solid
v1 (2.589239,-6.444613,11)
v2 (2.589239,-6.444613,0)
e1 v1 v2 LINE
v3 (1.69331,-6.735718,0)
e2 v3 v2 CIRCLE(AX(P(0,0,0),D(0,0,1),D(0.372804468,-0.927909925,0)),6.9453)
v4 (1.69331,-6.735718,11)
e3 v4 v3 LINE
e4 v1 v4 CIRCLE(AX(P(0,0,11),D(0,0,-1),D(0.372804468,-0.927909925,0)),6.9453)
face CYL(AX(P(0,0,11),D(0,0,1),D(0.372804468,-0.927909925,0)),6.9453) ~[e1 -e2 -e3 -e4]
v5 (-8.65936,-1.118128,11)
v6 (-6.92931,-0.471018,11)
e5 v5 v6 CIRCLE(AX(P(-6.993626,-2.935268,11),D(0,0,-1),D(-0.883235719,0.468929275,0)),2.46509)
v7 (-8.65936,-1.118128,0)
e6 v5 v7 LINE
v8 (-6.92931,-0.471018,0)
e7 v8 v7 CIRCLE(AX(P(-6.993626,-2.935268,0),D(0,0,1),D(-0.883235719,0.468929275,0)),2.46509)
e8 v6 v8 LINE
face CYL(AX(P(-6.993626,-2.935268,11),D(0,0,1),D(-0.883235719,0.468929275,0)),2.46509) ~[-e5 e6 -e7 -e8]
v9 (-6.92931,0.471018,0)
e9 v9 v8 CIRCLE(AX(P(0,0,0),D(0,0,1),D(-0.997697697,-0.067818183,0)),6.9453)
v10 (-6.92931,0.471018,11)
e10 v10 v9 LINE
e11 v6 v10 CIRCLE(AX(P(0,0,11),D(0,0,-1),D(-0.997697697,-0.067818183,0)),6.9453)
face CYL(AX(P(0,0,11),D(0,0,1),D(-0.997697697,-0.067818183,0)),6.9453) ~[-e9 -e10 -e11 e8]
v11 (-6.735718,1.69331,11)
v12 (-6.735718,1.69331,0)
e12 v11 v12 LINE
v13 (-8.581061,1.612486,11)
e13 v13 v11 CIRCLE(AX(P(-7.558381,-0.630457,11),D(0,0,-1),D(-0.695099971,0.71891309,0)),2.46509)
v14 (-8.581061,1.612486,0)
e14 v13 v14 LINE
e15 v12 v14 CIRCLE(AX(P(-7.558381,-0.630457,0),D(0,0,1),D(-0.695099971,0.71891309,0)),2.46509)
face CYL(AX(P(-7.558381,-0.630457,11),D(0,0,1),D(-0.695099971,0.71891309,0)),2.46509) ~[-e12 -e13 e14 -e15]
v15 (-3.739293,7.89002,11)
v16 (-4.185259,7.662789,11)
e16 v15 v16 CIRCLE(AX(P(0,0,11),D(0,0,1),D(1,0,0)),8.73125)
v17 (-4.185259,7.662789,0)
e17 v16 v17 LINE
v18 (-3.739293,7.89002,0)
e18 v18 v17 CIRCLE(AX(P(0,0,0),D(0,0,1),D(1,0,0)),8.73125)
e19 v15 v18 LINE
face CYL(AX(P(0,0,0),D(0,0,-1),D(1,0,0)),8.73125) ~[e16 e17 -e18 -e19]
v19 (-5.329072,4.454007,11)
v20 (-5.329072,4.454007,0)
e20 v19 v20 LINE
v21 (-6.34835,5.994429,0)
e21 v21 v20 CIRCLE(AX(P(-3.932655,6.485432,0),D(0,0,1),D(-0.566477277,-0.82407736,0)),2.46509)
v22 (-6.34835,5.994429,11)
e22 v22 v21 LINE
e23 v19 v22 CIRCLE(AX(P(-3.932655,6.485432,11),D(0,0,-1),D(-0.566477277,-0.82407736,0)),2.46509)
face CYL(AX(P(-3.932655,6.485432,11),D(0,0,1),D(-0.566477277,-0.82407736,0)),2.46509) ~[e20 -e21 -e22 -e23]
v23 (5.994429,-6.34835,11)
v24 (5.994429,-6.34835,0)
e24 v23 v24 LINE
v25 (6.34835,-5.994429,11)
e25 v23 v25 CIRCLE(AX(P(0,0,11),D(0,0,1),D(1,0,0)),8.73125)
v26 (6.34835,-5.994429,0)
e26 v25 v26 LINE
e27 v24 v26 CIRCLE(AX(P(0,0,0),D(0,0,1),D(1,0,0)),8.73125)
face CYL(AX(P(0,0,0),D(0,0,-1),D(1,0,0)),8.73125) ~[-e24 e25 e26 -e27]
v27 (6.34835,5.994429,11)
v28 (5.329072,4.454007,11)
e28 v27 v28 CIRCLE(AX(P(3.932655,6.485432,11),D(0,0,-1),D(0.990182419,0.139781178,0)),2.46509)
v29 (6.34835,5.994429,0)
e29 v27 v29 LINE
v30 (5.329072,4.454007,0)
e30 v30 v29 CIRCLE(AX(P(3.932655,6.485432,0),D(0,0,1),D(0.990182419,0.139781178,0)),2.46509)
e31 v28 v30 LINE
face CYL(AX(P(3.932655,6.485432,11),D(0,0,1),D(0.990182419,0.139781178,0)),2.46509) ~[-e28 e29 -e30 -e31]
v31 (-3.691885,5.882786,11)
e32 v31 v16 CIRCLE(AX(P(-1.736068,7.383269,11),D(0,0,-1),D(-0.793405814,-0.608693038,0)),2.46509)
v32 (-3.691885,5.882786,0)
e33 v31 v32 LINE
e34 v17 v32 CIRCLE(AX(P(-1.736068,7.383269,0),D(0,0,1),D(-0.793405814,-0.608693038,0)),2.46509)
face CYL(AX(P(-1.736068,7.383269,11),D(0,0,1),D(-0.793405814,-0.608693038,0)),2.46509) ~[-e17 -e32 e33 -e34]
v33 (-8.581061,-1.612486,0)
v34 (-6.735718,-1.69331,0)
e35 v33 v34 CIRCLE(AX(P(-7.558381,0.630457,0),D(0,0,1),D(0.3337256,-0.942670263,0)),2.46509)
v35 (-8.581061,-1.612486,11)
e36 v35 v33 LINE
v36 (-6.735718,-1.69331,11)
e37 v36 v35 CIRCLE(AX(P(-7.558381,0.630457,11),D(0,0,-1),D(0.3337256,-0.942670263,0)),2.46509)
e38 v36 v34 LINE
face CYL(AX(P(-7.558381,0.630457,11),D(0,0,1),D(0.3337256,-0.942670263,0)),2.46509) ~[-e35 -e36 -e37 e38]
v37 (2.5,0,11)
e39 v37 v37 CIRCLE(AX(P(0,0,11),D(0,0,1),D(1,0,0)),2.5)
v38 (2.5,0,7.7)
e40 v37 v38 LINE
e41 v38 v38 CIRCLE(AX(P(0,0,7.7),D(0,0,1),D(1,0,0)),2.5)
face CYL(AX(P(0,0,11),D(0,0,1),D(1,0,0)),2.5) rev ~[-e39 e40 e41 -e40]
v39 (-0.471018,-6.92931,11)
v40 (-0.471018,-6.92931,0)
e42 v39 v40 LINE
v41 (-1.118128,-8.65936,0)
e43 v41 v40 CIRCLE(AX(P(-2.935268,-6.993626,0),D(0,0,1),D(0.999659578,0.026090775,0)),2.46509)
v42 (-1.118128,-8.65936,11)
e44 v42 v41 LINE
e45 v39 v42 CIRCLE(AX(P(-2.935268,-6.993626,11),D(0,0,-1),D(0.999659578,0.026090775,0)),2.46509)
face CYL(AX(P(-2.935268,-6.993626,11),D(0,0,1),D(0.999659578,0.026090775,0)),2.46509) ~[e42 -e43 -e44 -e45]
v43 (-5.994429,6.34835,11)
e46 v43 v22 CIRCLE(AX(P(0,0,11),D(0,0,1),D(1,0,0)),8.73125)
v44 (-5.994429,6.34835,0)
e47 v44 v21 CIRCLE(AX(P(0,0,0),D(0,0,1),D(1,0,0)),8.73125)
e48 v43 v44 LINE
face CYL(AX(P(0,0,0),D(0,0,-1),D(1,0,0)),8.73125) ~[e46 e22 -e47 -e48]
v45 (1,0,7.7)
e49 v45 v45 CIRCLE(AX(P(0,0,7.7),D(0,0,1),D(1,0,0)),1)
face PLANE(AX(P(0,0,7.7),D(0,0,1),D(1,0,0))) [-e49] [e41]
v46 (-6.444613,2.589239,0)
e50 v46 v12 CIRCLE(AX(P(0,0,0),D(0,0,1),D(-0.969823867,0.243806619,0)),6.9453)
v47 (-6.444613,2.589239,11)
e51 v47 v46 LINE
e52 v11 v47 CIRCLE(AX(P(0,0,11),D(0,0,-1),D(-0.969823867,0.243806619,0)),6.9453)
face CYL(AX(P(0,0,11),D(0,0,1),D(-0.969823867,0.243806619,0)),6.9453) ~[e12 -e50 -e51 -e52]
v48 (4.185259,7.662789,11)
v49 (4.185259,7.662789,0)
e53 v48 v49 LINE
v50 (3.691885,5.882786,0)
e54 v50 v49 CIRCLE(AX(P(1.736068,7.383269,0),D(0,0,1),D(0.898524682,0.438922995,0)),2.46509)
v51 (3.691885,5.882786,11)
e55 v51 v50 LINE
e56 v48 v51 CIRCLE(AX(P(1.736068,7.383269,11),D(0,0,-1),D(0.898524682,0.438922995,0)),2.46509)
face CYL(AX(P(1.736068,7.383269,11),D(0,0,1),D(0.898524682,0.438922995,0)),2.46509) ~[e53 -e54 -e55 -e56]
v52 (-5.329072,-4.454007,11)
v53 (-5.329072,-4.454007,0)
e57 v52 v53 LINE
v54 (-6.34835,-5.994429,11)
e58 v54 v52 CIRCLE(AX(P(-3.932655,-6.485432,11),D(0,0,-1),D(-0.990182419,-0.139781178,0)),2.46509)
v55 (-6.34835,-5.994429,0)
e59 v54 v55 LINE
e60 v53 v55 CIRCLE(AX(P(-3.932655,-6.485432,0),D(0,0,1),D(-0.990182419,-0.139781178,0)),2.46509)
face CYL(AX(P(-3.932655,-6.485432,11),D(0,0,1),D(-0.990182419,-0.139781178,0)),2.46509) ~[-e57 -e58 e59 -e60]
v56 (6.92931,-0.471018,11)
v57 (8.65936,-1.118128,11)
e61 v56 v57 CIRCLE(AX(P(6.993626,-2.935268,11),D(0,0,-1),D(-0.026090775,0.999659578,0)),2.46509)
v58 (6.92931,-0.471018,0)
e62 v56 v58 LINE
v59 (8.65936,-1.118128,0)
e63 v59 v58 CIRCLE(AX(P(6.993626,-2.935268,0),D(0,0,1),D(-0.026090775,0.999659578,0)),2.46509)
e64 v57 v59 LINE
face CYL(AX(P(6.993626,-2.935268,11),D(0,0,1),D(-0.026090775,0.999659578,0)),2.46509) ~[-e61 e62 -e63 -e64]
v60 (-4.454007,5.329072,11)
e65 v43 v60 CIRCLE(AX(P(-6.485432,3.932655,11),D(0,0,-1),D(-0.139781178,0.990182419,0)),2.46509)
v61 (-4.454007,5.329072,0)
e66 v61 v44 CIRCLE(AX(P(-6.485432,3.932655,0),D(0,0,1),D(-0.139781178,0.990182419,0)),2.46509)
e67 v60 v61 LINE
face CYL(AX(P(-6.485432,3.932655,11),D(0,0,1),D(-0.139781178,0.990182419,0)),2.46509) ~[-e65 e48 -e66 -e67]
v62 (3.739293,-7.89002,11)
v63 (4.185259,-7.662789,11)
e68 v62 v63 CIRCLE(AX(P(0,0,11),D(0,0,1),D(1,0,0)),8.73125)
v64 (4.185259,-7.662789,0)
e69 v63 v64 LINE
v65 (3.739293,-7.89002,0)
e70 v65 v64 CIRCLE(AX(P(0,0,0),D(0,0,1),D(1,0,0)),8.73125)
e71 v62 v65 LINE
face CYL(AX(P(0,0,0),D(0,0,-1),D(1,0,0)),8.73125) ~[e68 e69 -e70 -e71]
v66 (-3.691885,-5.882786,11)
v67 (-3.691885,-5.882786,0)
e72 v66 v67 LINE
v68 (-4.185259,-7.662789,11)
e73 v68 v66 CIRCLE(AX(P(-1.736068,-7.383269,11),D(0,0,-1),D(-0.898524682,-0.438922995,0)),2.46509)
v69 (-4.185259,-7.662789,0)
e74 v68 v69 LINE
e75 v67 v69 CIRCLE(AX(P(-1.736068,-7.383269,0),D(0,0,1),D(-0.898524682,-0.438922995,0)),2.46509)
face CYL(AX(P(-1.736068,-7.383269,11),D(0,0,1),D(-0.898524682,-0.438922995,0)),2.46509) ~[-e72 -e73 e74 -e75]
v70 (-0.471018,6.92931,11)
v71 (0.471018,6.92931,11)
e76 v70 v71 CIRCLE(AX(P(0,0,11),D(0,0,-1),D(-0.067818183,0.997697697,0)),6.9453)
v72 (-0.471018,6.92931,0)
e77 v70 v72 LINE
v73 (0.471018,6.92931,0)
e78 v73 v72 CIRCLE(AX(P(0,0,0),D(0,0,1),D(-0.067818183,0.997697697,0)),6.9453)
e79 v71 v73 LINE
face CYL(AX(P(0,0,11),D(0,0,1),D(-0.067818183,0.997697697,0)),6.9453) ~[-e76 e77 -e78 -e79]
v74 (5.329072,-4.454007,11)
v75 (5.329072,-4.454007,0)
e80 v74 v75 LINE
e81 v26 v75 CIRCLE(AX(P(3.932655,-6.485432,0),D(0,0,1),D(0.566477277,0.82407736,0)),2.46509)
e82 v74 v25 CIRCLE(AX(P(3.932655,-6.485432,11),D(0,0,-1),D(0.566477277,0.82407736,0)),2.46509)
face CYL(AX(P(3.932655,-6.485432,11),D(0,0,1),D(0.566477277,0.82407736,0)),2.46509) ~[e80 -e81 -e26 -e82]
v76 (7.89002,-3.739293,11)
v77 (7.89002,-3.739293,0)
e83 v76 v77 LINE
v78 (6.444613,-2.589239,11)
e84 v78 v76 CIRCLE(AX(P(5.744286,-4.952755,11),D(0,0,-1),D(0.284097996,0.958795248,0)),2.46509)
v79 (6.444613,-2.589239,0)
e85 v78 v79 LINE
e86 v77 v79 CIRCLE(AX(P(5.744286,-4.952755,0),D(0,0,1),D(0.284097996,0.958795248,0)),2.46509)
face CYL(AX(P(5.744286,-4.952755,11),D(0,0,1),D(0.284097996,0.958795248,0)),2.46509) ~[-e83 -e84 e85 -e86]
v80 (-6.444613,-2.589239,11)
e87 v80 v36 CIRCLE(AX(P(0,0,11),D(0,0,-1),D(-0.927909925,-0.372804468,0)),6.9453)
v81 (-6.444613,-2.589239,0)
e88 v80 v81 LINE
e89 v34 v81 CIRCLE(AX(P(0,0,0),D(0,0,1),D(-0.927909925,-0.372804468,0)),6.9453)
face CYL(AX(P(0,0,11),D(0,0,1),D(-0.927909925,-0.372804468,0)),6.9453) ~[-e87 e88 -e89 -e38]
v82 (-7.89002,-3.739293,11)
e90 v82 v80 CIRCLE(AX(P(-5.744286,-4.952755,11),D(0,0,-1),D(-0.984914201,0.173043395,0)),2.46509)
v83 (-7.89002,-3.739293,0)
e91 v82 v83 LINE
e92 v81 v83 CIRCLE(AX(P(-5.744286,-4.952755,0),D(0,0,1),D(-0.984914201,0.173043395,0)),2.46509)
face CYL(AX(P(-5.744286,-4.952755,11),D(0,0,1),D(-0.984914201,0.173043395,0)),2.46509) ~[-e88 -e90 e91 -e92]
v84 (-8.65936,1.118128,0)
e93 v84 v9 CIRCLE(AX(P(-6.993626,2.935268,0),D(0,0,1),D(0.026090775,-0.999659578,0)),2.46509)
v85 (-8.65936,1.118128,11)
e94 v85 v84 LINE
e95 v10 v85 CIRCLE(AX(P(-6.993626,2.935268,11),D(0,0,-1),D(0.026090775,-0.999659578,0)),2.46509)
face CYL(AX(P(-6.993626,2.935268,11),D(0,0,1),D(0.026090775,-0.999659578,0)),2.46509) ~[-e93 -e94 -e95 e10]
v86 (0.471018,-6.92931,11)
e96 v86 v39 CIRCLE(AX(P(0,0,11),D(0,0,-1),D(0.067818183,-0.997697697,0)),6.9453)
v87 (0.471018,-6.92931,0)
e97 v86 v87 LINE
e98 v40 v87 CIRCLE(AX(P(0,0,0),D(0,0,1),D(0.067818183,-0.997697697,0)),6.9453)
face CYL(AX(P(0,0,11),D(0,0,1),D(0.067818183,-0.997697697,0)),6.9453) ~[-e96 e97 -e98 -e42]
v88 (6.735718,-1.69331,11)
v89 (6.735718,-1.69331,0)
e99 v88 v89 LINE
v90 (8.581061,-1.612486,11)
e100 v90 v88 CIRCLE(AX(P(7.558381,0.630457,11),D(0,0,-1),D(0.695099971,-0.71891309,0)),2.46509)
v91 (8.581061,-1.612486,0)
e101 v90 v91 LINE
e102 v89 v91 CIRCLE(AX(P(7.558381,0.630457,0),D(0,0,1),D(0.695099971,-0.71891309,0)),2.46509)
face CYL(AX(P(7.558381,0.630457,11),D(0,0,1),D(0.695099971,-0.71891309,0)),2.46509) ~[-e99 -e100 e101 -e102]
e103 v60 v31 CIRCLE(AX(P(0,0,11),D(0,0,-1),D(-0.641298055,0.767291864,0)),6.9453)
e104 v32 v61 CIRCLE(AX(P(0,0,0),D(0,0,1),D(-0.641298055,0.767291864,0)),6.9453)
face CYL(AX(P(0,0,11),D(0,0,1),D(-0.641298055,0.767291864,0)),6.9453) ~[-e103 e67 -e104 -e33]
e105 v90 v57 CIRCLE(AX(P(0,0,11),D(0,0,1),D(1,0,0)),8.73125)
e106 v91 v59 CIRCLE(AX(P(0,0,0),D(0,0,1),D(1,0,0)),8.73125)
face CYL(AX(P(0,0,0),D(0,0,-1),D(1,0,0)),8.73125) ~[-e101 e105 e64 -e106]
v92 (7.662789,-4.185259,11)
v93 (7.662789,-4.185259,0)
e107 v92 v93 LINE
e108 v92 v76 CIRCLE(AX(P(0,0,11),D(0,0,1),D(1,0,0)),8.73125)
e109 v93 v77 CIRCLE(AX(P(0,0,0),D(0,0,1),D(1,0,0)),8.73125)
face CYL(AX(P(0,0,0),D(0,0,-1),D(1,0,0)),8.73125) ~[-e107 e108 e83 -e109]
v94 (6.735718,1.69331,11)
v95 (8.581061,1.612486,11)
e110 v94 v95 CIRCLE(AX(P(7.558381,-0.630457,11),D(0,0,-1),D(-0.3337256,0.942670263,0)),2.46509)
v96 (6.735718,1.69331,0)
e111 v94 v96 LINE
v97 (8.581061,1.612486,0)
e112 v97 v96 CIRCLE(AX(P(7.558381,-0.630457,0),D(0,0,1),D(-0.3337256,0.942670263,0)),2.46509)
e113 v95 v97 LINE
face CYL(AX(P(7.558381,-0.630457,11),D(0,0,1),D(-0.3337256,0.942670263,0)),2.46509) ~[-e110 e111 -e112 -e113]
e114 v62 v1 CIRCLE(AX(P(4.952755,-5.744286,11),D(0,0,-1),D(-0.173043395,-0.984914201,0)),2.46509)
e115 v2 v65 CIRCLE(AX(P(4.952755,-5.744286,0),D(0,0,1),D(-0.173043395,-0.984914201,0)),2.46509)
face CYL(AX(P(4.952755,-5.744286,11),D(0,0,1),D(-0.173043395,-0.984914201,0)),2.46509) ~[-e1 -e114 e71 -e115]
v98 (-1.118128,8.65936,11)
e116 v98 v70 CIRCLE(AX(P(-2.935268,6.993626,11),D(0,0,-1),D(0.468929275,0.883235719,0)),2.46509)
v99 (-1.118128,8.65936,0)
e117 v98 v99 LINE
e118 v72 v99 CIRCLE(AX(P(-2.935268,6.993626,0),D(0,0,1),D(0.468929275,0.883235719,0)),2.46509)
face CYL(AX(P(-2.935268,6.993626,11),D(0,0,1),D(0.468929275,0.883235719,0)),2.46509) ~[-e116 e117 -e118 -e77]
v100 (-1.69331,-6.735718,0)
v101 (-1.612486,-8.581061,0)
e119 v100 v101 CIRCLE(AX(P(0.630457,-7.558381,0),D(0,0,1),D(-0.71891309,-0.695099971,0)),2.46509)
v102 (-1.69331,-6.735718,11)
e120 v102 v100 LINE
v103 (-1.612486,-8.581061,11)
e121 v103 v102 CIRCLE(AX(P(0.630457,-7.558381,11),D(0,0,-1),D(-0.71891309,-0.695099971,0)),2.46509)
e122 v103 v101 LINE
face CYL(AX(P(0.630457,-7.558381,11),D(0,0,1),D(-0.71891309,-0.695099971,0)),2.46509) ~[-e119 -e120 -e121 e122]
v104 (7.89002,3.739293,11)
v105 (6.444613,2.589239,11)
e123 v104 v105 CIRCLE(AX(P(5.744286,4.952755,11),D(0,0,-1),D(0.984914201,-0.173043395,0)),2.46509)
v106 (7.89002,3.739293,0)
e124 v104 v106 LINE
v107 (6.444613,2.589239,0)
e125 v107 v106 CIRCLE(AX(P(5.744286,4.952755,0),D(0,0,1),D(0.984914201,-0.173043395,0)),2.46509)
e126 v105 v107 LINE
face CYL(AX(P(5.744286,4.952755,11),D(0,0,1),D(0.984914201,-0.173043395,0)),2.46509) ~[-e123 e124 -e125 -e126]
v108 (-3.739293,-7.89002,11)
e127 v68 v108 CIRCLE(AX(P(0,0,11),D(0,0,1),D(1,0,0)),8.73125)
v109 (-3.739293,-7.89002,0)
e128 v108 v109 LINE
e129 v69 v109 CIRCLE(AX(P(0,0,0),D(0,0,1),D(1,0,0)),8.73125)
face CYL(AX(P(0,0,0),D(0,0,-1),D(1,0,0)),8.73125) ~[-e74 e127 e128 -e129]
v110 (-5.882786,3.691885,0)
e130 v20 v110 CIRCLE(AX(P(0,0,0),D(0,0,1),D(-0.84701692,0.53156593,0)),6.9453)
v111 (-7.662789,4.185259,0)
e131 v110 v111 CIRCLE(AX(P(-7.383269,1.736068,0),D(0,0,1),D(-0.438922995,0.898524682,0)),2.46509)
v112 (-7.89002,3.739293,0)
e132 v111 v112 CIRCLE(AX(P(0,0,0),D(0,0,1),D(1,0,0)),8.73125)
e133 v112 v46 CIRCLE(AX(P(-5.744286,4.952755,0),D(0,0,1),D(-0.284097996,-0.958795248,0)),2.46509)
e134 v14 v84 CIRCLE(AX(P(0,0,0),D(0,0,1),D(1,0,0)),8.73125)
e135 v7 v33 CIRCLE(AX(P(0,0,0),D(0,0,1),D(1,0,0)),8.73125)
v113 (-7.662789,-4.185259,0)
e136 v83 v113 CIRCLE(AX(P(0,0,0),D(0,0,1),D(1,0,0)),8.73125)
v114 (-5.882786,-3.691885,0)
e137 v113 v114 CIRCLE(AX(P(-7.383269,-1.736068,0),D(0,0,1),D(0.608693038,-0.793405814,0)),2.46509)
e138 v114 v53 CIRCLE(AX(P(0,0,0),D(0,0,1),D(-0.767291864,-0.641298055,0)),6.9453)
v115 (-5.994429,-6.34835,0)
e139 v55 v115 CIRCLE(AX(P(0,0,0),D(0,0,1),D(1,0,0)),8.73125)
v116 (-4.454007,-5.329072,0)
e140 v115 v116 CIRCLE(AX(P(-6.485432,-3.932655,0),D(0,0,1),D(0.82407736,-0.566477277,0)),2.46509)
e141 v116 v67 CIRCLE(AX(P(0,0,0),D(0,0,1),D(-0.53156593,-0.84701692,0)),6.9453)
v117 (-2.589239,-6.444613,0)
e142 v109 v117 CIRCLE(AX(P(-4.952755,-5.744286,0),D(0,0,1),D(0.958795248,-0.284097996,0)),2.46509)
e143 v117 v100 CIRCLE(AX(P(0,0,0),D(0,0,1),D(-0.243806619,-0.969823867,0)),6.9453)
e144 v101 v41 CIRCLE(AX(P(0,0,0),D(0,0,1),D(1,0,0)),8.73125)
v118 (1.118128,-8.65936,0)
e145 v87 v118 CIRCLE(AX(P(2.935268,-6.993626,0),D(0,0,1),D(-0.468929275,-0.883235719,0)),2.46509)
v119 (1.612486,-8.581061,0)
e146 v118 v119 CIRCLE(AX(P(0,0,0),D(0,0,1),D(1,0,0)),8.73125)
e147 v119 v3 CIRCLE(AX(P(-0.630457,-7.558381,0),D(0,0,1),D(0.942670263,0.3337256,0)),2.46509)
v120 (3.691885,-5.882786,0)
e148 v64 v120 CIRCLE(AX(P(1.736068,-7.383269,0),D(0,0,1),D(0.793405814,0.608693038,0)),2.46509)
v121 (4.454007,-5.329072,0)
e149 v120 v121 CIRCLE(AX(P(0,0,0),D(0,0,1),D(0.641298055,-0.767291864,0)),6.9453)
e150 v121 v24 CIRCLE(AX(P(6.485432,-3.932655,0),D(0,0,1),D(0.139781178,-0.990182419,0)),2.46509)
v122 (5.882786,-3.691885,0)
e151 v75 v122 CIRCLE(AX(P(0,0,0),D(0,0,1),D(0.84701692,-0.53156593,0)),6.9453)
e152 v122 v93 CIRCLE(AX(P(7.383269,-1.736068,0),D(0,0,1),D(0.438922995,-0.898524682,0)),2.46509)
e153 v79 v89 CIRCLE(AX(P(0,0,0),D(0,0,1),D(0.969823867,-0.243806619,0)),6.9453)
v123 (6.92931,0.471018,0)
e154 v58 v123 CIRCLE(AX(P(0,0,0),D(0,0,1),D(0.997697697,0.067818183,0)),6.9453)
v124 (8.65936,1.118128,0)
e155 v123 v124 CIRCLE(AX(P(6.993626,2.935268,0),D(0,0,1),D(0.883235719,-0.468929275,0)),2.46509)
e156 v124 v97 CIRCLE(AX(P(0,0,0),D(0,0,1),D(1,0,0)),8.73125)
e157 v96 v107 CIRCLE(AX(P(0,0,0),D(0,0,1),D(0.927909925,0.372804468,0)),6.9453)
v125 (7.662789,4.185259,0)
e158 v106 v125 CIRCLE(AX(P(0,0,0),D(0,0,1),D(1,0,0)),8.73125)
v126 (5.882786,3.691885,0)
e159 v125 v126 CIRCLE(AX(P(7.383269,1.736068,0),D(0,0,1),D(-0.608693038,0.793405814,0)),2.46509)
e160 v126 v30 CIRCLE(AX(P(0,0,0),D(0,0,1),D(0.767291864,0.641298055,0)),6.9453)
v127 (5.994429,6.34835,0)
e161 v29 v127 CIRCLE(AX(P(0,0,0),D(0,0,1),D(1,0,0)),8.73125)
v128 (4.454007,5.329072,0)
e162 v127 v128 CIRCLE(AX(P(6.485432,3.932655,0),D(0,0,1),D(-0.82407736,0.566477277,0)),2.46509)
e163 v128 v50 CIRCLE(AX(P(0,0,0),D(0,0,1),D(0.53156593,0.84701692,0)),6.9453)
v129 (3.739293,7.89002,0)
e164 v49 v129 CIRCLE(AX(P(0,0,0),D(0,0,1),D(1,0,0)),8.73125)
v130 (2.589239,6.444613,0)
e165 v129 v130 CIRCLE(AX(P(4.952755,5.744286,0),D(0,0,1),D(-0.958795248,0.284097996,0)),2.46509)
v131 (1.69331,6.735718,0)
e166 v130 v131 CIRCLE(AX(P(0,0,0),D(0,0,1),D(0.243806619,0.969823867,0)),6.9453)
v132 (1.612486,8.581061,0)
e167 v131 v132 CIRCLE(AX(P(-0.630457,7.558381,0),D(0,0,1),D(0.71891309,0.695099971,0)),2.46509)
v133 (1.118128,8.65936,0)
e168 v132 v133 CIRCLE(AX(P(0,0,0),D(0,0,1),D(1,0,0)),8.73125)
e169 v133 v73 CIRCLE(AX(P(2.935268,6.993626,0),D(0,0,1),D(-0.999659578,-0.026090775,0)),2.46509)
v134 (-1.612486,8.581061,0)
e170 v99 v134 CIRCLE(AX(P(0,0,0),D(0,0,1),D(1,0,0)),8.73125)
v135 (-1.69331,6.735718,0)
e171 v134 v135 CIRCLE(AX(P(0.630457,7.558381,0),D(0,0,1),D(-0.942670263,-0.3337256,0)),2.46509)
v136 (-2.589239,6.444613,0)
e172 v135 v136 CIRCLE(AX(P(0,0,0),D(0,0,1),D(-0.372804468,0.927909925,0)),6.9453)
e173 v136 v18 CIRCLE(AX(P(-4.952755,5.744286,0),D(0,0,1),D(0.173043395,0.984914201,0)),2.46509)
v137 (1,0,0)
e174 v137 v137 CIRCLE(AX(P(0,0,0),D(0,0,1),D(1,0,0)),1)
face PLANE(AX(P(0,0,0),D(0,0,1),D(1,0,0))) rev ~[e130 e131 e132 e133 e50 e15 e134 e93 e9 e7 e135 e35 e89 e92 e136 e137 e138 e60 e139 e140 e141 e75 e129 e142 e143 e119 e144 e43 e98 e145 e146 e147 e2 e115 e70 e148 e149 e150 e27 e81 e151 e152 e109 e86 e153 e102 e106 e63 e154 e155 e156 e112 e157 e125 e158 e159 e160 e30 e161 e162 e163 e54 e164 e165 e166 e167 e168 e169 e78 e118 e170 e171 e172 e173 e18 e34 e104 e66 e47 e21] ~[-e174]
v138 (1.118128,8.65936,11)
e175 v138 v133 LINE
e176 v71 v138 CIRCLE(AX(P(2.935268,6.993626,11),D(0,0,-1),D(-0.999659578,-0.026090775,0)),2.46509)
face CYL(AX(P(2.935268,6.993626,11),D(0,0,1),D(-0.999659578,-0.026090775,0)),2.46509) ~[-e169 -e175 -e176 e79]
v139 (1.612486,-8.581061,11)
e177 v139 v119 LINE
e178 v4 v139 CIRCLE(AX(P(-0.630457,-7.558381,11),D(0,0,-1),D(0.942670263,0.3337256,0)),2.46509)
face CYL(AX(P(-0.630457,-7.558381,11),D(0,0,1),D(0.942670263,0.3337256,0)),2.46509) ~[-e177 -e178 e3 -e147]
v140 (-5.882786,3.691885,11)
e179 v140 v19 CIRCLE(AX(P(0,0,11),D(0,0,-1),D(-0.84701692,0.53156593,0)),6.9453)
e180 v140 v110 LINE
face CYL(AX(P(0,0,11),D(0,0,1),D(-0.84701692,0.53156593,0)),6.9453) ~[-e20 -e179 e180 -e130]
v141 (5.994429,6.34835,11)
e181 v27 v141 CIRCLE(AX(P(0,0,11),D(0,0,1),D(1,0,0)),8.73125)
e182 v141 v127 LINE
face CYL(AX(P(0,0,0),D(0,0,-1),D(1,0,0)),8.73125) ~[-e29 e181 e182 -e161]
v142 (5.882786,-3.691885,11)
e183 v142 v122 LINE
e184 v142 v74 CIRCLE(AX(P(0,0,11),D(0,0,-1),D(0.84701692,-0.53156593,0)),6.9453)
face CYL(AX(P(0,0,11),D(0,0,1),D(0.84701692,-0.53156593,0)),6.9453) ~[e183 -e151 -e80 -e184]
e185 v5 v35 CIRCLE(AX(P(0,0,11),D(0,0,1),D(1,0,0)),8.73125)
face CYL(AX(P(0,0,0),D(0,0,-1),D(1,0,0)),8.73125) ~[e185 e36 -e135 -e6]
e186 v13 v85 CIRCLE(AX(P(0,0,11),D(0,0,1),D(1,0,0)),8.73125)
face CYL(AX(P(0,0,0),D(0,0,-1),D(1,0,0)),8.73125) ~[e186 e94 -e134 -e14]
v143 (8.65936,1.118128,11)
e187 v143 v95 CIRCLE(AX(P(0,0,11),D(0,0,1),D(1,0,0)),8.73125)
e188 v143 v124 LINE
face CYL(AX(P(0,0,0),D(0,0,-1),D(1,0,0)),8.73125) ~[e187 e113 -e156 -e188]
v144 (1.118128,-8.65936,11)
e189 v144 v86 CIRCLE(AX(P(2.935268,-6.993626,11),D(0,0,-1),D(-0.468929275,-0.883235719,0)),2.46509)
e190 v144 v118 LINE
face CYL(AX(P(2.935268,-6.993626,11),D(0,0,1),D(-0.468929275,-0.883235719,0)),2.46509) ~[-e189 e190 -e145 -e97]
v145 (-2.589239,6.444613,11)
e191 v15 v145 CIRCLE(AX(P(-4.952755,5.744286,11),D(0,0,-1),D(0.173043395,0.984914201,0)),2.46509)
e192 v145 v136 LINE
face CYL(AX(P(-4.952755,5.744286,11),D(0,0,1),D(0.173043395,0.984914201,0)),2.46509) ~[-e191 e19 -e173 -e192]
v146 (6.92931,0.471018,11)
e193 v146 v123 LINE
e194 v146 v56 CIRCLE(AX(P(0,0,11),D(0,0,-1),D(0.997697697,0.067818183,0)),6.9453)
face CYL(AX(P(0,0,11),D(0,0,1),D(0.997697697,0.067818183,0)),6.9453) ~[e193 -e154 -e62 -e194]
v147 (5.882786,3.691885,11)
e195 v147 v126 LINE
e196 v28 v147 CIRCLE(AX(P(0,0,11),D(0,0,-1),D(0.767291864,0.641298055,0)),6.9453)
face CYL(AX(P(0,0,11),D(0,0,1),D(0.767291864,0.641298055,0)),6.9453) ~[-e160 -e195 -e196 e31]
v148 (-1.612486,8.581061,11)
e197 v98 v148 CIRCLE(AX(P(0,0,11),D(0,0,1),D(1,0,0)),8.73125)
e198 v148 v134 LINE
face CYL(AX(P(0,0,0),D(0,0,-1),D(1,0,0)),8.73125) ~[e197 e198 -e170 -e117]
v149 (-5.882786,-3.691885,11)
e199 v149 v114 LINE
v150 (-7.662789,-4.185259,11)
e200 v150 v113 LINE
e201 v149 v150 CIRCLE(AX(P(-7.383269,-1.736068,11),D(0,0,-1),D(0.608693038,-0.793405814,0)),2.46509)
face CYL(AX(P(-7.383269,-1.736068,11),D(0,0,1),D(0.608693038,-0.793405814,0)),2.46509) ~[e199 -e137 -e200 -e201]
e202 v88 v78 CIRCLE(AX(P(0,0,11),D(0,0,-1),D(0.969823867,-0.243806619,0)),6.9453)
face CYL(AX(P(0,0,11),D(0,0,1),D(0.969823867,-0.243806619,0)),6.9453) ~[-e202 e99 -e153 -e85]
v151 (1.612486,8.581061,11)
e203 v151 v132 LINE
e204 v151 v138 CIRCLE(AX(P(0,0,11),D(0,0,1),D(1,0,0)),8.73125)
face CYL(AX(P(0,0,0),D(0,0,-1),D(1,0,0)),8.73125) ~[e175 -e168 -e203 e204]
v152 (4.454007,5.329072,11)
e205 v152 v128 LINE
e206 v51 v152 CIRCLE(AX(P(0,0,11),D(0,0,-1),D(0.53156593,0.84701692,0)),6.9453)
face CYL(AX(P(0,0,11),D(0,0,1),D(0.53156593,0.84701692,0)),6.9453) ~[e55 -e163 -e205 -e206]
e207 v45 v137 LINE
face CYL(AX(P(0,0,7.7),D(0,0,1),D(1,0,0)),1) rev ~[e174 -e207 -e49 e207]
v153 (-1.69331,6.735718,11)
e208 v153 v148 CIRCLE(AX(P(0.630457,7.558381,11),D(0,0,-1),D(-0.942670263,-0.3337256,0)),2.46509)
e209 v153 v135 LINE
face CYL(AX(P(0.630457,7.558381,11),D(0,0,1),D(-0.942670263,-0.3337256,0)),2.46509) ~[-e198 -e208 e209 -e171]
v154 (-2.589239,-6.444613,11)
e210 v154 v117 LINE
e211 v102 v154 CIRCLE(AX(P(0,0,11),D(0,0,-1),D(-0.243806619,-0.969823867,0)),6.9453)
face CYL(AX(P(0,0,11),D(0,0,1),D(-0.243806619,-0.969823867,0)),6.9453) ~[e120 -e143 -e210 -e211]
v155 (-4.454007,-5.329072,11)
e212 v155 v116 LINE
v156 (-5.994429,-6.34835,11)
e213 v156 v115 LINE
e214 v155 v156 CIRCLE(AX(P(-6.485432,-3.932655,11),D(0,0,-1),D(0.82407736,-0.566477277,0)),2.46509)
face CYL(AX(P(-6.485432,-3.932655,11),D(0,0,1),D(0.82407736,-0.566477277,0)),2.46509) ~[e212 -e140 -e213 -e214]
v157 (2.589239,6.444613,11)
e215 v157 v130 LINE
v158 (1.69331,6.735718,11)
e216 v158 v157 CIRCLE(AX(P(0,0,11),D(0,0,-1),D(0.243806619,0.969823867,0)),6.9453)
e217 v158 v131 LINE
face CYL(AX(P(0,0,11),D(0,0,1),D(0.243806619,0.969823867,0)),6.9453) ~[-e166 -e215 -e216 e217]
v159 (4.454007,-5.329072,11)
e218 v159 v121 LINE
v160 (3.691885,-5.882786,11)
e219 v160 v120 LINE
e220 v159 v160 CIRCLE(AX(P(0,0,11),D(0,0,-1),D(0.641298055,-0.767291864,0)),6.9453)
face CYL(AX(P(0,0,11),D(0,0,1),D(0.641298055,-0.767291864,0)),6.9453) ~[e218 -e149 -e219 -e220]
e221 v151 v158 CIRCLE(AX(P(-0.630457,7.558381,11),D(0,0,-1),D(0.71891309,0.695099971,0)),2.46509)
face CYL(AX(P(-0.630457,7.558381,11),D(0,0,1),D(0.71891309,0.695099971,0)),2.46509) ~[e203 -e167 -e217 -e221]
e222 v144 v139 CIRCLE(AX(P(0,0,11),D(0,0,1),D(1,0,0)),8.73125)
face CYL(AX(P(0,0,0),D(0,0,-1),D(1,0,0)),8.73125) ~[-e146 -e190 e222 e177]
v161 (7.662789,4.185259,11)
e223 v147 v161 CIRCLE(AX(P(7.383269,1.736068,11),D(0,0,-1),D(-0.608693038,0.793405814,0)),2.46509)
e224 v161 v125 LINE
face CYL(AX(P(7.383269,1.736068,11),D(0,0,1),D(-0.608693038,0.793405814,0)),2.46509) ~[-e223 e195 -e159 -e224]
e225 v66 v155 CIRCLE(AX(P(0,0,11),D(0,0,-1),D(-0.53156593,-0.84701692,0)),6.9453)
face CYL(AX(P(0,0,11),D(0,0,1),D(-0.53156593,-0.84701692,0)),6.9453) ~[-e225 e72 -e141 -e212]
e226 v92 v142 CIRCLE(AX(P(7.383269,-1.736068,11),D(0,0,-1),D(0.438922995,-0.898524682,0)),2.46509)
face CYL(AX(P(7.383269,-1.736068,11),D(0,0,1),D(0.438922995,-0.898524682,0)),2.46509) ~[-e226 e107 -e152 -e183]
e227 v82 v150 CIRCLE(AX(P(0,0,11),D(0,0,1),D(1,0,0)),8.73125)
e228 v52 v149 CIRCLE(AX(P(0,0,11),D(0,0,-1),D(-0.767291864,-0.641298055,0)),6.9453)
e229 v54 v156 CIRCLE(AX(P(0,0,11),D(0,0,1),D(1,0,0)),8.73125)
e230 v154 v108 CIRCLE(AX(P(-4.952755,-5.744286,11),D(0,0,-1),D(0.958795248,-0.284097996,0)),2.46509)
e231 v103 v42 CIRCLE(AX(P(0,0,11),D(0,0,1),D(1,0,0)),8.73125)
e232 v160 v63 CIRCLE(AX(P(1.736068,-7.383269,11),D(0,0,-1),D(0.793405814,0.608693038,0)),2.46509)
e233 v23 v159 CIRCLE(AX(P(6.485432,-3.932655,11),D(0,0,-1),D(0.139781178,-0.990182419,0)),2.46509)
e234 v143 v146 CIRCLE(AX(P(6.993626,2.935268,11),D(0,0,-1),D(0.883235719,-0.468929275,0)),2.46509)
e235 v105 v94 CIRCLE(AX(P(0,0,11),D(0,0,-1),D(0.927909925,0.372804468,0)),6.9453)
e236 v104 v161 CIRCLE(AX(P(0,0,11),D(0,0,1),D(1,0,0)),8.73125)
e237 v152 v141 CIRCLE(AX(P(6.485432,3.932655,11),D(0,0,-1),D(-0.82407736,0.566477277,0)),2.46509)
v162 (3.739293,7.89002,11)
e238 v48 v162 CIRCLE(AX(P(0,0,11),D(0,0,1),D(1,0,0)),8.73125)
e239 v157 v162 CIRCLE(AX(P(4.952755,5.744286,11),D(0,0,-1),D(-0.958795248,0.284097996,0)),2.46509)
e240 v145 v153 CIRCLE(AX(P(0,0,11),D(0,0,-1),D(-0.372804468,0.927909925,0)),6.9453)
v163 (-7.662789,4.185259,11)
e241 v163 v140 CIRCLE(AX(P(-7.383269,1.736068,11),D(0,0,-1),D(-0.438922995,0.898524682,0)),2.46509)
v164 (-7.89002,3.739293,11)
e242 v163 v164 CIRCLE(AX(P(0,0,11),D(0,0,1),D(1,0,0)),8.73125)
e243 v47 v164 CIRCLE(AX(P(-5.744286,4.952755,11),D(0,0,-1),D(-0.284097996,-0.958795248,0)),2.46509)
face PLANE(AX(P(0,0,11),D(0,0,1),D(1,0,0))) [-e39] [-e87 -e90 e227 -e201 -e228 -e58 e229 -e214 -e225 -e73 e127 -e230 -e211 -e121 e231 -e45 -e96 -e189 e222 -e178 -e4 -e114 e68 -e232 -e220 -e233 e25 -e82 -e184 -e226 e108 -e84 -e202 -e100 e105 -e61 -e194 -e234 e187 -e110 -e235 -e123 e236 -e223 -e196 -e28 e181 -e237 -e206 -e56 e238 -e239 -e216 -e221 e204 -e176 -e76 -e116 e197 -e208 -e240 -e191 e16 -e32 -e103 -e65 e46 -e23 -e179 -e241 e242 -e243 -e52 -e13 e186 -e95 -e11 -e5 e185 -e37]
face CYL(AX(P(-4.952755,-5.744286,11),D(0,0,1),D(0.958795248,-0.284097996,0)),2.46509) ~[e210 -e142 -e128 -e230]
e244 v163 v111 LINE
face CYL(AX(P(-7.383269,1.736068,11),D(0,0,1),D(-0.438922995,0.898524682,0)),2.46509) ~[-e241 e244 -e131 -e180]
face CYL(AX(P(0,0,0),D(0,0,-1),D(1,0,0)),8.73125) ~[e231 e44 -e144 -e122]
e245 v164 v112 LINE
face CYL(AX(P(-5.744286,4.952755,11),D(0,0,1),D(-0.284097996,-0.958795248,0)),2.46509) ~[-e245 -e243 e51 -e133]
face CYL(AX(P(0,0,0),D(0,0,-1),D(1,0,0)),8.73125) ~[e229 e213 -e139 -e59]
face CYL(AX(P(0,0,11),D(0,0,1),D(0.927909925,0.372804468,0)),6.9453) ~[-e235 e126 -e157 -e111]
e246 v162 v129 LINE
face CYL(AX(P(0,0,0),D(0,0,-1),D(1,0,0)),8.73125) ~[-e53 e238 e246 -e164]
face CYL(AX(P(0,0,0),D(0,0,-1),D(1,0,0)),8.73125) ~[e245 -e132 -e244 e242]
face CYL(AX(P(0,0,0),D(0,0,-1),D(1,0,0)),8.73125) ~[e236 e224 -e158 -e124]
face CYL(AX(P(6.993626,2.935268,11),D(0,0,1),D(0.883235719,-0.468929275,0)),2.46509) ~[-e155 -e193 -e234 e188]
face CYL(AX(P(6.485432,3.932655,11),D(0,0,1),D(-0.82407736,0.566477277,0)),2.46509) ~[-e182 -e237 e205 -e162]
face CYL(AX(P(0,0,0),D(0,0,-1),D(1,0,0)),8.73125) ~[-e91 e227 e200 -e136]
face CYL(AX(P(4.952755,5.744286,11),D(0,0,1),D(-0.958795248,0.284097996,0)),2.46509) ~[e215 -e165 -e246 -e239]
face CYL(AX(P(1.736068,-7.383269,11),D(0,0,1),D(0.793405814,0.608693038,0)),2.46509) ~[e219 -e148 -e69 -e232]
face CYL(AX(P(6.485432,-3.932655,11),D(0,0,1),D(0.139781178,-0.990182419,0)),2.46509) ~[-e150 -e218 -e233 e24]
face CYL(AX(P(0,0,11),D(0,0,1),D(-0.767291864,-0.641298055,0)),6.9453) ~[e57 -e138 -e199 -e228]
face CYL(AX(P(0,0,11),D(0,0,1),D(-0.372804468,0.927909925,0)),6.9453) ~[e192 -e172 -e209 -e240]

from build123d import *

# Parameters (mm, degrees)
SKETCH1_R           = 8.73125
BOSS_EXTRUDE1_DEPTH = 11
CUT_EXTRUDE1_DEPTH  = 17.536911838
CIRPATTERN1_COUNT   = 20
SKETCH4_R           = 2.5
CUT_EXTRUDE2_DEPTH  = 3.3
SKETCH5_R           = 1
CUT_EXTRUDE3_DEPTH  = 15.465788277


with BuildPart() as part:
    # Sketch1 → Boss-Extrude1 (new body)
    with BuildSketch(Plane.XY):
        Circle(SKETCH1_R)
    extrude(amount=BOSS_EXTRUDE1_DEPTH)

    # Sketch2 → Cut-Extrude1 (cut, through all)
    with BuildSketch(Plane.XY.offset(11)):
        with BuildLine():
            Line((9.170880897, -1.77931535), (9.170880897, 1.77931535))
            ThreePointArc((9.170880897, 1.77931535), (8.236219229, 0.806271061), (6.929309614, 0.4710176))
            ThreePointArc((6.929309614, 0.4710176), (6.9452998, 0), (6.929309614, -0.4710176))
            ThreePointArc((6.929309614, -0.4710176), (8.236219229, -0.806271061), (9.170880897, -1.77931535))
        make_face()
    cut_extrude1 = extrude(amount=-CUT_EXTRUDE1_DEPTH, mode=Mode.SUBTRACT)

    # CirPattern1: Cut-Extrude1 ×20 about axis
    cirpattern1_axis = Axis((0, 0, 0), (0, 0, 1))
    for i in range(1, CIRPATTERN1_COUNT):
        add(cut_extrude1.rotate(cirpattern1_axis, i * 360 / CIRPATTERN1_COUNT), mode=Mode.SUBTRACT)

    # Sketch4 → Cut-Extrude2 (cut)
    with BuildSketch(Plane.XY.offset(11)):
        Circle(SKETCH4_R)
    extrude(amount=-CUT_EXTRUDE2_DEPTH, mode=Mode.SUBTRACT)

    # Sketch5 → Cut-Extrude3 (cut, through all)
    with BuildSketch(Plane.XY.offset(7.7)):
        Circle(SKETCH5_R)
    extrude(amount=-CUT_EXTRUDE3_DEPTH, mode=Mode.SUBTRACT)


solid = part.part
